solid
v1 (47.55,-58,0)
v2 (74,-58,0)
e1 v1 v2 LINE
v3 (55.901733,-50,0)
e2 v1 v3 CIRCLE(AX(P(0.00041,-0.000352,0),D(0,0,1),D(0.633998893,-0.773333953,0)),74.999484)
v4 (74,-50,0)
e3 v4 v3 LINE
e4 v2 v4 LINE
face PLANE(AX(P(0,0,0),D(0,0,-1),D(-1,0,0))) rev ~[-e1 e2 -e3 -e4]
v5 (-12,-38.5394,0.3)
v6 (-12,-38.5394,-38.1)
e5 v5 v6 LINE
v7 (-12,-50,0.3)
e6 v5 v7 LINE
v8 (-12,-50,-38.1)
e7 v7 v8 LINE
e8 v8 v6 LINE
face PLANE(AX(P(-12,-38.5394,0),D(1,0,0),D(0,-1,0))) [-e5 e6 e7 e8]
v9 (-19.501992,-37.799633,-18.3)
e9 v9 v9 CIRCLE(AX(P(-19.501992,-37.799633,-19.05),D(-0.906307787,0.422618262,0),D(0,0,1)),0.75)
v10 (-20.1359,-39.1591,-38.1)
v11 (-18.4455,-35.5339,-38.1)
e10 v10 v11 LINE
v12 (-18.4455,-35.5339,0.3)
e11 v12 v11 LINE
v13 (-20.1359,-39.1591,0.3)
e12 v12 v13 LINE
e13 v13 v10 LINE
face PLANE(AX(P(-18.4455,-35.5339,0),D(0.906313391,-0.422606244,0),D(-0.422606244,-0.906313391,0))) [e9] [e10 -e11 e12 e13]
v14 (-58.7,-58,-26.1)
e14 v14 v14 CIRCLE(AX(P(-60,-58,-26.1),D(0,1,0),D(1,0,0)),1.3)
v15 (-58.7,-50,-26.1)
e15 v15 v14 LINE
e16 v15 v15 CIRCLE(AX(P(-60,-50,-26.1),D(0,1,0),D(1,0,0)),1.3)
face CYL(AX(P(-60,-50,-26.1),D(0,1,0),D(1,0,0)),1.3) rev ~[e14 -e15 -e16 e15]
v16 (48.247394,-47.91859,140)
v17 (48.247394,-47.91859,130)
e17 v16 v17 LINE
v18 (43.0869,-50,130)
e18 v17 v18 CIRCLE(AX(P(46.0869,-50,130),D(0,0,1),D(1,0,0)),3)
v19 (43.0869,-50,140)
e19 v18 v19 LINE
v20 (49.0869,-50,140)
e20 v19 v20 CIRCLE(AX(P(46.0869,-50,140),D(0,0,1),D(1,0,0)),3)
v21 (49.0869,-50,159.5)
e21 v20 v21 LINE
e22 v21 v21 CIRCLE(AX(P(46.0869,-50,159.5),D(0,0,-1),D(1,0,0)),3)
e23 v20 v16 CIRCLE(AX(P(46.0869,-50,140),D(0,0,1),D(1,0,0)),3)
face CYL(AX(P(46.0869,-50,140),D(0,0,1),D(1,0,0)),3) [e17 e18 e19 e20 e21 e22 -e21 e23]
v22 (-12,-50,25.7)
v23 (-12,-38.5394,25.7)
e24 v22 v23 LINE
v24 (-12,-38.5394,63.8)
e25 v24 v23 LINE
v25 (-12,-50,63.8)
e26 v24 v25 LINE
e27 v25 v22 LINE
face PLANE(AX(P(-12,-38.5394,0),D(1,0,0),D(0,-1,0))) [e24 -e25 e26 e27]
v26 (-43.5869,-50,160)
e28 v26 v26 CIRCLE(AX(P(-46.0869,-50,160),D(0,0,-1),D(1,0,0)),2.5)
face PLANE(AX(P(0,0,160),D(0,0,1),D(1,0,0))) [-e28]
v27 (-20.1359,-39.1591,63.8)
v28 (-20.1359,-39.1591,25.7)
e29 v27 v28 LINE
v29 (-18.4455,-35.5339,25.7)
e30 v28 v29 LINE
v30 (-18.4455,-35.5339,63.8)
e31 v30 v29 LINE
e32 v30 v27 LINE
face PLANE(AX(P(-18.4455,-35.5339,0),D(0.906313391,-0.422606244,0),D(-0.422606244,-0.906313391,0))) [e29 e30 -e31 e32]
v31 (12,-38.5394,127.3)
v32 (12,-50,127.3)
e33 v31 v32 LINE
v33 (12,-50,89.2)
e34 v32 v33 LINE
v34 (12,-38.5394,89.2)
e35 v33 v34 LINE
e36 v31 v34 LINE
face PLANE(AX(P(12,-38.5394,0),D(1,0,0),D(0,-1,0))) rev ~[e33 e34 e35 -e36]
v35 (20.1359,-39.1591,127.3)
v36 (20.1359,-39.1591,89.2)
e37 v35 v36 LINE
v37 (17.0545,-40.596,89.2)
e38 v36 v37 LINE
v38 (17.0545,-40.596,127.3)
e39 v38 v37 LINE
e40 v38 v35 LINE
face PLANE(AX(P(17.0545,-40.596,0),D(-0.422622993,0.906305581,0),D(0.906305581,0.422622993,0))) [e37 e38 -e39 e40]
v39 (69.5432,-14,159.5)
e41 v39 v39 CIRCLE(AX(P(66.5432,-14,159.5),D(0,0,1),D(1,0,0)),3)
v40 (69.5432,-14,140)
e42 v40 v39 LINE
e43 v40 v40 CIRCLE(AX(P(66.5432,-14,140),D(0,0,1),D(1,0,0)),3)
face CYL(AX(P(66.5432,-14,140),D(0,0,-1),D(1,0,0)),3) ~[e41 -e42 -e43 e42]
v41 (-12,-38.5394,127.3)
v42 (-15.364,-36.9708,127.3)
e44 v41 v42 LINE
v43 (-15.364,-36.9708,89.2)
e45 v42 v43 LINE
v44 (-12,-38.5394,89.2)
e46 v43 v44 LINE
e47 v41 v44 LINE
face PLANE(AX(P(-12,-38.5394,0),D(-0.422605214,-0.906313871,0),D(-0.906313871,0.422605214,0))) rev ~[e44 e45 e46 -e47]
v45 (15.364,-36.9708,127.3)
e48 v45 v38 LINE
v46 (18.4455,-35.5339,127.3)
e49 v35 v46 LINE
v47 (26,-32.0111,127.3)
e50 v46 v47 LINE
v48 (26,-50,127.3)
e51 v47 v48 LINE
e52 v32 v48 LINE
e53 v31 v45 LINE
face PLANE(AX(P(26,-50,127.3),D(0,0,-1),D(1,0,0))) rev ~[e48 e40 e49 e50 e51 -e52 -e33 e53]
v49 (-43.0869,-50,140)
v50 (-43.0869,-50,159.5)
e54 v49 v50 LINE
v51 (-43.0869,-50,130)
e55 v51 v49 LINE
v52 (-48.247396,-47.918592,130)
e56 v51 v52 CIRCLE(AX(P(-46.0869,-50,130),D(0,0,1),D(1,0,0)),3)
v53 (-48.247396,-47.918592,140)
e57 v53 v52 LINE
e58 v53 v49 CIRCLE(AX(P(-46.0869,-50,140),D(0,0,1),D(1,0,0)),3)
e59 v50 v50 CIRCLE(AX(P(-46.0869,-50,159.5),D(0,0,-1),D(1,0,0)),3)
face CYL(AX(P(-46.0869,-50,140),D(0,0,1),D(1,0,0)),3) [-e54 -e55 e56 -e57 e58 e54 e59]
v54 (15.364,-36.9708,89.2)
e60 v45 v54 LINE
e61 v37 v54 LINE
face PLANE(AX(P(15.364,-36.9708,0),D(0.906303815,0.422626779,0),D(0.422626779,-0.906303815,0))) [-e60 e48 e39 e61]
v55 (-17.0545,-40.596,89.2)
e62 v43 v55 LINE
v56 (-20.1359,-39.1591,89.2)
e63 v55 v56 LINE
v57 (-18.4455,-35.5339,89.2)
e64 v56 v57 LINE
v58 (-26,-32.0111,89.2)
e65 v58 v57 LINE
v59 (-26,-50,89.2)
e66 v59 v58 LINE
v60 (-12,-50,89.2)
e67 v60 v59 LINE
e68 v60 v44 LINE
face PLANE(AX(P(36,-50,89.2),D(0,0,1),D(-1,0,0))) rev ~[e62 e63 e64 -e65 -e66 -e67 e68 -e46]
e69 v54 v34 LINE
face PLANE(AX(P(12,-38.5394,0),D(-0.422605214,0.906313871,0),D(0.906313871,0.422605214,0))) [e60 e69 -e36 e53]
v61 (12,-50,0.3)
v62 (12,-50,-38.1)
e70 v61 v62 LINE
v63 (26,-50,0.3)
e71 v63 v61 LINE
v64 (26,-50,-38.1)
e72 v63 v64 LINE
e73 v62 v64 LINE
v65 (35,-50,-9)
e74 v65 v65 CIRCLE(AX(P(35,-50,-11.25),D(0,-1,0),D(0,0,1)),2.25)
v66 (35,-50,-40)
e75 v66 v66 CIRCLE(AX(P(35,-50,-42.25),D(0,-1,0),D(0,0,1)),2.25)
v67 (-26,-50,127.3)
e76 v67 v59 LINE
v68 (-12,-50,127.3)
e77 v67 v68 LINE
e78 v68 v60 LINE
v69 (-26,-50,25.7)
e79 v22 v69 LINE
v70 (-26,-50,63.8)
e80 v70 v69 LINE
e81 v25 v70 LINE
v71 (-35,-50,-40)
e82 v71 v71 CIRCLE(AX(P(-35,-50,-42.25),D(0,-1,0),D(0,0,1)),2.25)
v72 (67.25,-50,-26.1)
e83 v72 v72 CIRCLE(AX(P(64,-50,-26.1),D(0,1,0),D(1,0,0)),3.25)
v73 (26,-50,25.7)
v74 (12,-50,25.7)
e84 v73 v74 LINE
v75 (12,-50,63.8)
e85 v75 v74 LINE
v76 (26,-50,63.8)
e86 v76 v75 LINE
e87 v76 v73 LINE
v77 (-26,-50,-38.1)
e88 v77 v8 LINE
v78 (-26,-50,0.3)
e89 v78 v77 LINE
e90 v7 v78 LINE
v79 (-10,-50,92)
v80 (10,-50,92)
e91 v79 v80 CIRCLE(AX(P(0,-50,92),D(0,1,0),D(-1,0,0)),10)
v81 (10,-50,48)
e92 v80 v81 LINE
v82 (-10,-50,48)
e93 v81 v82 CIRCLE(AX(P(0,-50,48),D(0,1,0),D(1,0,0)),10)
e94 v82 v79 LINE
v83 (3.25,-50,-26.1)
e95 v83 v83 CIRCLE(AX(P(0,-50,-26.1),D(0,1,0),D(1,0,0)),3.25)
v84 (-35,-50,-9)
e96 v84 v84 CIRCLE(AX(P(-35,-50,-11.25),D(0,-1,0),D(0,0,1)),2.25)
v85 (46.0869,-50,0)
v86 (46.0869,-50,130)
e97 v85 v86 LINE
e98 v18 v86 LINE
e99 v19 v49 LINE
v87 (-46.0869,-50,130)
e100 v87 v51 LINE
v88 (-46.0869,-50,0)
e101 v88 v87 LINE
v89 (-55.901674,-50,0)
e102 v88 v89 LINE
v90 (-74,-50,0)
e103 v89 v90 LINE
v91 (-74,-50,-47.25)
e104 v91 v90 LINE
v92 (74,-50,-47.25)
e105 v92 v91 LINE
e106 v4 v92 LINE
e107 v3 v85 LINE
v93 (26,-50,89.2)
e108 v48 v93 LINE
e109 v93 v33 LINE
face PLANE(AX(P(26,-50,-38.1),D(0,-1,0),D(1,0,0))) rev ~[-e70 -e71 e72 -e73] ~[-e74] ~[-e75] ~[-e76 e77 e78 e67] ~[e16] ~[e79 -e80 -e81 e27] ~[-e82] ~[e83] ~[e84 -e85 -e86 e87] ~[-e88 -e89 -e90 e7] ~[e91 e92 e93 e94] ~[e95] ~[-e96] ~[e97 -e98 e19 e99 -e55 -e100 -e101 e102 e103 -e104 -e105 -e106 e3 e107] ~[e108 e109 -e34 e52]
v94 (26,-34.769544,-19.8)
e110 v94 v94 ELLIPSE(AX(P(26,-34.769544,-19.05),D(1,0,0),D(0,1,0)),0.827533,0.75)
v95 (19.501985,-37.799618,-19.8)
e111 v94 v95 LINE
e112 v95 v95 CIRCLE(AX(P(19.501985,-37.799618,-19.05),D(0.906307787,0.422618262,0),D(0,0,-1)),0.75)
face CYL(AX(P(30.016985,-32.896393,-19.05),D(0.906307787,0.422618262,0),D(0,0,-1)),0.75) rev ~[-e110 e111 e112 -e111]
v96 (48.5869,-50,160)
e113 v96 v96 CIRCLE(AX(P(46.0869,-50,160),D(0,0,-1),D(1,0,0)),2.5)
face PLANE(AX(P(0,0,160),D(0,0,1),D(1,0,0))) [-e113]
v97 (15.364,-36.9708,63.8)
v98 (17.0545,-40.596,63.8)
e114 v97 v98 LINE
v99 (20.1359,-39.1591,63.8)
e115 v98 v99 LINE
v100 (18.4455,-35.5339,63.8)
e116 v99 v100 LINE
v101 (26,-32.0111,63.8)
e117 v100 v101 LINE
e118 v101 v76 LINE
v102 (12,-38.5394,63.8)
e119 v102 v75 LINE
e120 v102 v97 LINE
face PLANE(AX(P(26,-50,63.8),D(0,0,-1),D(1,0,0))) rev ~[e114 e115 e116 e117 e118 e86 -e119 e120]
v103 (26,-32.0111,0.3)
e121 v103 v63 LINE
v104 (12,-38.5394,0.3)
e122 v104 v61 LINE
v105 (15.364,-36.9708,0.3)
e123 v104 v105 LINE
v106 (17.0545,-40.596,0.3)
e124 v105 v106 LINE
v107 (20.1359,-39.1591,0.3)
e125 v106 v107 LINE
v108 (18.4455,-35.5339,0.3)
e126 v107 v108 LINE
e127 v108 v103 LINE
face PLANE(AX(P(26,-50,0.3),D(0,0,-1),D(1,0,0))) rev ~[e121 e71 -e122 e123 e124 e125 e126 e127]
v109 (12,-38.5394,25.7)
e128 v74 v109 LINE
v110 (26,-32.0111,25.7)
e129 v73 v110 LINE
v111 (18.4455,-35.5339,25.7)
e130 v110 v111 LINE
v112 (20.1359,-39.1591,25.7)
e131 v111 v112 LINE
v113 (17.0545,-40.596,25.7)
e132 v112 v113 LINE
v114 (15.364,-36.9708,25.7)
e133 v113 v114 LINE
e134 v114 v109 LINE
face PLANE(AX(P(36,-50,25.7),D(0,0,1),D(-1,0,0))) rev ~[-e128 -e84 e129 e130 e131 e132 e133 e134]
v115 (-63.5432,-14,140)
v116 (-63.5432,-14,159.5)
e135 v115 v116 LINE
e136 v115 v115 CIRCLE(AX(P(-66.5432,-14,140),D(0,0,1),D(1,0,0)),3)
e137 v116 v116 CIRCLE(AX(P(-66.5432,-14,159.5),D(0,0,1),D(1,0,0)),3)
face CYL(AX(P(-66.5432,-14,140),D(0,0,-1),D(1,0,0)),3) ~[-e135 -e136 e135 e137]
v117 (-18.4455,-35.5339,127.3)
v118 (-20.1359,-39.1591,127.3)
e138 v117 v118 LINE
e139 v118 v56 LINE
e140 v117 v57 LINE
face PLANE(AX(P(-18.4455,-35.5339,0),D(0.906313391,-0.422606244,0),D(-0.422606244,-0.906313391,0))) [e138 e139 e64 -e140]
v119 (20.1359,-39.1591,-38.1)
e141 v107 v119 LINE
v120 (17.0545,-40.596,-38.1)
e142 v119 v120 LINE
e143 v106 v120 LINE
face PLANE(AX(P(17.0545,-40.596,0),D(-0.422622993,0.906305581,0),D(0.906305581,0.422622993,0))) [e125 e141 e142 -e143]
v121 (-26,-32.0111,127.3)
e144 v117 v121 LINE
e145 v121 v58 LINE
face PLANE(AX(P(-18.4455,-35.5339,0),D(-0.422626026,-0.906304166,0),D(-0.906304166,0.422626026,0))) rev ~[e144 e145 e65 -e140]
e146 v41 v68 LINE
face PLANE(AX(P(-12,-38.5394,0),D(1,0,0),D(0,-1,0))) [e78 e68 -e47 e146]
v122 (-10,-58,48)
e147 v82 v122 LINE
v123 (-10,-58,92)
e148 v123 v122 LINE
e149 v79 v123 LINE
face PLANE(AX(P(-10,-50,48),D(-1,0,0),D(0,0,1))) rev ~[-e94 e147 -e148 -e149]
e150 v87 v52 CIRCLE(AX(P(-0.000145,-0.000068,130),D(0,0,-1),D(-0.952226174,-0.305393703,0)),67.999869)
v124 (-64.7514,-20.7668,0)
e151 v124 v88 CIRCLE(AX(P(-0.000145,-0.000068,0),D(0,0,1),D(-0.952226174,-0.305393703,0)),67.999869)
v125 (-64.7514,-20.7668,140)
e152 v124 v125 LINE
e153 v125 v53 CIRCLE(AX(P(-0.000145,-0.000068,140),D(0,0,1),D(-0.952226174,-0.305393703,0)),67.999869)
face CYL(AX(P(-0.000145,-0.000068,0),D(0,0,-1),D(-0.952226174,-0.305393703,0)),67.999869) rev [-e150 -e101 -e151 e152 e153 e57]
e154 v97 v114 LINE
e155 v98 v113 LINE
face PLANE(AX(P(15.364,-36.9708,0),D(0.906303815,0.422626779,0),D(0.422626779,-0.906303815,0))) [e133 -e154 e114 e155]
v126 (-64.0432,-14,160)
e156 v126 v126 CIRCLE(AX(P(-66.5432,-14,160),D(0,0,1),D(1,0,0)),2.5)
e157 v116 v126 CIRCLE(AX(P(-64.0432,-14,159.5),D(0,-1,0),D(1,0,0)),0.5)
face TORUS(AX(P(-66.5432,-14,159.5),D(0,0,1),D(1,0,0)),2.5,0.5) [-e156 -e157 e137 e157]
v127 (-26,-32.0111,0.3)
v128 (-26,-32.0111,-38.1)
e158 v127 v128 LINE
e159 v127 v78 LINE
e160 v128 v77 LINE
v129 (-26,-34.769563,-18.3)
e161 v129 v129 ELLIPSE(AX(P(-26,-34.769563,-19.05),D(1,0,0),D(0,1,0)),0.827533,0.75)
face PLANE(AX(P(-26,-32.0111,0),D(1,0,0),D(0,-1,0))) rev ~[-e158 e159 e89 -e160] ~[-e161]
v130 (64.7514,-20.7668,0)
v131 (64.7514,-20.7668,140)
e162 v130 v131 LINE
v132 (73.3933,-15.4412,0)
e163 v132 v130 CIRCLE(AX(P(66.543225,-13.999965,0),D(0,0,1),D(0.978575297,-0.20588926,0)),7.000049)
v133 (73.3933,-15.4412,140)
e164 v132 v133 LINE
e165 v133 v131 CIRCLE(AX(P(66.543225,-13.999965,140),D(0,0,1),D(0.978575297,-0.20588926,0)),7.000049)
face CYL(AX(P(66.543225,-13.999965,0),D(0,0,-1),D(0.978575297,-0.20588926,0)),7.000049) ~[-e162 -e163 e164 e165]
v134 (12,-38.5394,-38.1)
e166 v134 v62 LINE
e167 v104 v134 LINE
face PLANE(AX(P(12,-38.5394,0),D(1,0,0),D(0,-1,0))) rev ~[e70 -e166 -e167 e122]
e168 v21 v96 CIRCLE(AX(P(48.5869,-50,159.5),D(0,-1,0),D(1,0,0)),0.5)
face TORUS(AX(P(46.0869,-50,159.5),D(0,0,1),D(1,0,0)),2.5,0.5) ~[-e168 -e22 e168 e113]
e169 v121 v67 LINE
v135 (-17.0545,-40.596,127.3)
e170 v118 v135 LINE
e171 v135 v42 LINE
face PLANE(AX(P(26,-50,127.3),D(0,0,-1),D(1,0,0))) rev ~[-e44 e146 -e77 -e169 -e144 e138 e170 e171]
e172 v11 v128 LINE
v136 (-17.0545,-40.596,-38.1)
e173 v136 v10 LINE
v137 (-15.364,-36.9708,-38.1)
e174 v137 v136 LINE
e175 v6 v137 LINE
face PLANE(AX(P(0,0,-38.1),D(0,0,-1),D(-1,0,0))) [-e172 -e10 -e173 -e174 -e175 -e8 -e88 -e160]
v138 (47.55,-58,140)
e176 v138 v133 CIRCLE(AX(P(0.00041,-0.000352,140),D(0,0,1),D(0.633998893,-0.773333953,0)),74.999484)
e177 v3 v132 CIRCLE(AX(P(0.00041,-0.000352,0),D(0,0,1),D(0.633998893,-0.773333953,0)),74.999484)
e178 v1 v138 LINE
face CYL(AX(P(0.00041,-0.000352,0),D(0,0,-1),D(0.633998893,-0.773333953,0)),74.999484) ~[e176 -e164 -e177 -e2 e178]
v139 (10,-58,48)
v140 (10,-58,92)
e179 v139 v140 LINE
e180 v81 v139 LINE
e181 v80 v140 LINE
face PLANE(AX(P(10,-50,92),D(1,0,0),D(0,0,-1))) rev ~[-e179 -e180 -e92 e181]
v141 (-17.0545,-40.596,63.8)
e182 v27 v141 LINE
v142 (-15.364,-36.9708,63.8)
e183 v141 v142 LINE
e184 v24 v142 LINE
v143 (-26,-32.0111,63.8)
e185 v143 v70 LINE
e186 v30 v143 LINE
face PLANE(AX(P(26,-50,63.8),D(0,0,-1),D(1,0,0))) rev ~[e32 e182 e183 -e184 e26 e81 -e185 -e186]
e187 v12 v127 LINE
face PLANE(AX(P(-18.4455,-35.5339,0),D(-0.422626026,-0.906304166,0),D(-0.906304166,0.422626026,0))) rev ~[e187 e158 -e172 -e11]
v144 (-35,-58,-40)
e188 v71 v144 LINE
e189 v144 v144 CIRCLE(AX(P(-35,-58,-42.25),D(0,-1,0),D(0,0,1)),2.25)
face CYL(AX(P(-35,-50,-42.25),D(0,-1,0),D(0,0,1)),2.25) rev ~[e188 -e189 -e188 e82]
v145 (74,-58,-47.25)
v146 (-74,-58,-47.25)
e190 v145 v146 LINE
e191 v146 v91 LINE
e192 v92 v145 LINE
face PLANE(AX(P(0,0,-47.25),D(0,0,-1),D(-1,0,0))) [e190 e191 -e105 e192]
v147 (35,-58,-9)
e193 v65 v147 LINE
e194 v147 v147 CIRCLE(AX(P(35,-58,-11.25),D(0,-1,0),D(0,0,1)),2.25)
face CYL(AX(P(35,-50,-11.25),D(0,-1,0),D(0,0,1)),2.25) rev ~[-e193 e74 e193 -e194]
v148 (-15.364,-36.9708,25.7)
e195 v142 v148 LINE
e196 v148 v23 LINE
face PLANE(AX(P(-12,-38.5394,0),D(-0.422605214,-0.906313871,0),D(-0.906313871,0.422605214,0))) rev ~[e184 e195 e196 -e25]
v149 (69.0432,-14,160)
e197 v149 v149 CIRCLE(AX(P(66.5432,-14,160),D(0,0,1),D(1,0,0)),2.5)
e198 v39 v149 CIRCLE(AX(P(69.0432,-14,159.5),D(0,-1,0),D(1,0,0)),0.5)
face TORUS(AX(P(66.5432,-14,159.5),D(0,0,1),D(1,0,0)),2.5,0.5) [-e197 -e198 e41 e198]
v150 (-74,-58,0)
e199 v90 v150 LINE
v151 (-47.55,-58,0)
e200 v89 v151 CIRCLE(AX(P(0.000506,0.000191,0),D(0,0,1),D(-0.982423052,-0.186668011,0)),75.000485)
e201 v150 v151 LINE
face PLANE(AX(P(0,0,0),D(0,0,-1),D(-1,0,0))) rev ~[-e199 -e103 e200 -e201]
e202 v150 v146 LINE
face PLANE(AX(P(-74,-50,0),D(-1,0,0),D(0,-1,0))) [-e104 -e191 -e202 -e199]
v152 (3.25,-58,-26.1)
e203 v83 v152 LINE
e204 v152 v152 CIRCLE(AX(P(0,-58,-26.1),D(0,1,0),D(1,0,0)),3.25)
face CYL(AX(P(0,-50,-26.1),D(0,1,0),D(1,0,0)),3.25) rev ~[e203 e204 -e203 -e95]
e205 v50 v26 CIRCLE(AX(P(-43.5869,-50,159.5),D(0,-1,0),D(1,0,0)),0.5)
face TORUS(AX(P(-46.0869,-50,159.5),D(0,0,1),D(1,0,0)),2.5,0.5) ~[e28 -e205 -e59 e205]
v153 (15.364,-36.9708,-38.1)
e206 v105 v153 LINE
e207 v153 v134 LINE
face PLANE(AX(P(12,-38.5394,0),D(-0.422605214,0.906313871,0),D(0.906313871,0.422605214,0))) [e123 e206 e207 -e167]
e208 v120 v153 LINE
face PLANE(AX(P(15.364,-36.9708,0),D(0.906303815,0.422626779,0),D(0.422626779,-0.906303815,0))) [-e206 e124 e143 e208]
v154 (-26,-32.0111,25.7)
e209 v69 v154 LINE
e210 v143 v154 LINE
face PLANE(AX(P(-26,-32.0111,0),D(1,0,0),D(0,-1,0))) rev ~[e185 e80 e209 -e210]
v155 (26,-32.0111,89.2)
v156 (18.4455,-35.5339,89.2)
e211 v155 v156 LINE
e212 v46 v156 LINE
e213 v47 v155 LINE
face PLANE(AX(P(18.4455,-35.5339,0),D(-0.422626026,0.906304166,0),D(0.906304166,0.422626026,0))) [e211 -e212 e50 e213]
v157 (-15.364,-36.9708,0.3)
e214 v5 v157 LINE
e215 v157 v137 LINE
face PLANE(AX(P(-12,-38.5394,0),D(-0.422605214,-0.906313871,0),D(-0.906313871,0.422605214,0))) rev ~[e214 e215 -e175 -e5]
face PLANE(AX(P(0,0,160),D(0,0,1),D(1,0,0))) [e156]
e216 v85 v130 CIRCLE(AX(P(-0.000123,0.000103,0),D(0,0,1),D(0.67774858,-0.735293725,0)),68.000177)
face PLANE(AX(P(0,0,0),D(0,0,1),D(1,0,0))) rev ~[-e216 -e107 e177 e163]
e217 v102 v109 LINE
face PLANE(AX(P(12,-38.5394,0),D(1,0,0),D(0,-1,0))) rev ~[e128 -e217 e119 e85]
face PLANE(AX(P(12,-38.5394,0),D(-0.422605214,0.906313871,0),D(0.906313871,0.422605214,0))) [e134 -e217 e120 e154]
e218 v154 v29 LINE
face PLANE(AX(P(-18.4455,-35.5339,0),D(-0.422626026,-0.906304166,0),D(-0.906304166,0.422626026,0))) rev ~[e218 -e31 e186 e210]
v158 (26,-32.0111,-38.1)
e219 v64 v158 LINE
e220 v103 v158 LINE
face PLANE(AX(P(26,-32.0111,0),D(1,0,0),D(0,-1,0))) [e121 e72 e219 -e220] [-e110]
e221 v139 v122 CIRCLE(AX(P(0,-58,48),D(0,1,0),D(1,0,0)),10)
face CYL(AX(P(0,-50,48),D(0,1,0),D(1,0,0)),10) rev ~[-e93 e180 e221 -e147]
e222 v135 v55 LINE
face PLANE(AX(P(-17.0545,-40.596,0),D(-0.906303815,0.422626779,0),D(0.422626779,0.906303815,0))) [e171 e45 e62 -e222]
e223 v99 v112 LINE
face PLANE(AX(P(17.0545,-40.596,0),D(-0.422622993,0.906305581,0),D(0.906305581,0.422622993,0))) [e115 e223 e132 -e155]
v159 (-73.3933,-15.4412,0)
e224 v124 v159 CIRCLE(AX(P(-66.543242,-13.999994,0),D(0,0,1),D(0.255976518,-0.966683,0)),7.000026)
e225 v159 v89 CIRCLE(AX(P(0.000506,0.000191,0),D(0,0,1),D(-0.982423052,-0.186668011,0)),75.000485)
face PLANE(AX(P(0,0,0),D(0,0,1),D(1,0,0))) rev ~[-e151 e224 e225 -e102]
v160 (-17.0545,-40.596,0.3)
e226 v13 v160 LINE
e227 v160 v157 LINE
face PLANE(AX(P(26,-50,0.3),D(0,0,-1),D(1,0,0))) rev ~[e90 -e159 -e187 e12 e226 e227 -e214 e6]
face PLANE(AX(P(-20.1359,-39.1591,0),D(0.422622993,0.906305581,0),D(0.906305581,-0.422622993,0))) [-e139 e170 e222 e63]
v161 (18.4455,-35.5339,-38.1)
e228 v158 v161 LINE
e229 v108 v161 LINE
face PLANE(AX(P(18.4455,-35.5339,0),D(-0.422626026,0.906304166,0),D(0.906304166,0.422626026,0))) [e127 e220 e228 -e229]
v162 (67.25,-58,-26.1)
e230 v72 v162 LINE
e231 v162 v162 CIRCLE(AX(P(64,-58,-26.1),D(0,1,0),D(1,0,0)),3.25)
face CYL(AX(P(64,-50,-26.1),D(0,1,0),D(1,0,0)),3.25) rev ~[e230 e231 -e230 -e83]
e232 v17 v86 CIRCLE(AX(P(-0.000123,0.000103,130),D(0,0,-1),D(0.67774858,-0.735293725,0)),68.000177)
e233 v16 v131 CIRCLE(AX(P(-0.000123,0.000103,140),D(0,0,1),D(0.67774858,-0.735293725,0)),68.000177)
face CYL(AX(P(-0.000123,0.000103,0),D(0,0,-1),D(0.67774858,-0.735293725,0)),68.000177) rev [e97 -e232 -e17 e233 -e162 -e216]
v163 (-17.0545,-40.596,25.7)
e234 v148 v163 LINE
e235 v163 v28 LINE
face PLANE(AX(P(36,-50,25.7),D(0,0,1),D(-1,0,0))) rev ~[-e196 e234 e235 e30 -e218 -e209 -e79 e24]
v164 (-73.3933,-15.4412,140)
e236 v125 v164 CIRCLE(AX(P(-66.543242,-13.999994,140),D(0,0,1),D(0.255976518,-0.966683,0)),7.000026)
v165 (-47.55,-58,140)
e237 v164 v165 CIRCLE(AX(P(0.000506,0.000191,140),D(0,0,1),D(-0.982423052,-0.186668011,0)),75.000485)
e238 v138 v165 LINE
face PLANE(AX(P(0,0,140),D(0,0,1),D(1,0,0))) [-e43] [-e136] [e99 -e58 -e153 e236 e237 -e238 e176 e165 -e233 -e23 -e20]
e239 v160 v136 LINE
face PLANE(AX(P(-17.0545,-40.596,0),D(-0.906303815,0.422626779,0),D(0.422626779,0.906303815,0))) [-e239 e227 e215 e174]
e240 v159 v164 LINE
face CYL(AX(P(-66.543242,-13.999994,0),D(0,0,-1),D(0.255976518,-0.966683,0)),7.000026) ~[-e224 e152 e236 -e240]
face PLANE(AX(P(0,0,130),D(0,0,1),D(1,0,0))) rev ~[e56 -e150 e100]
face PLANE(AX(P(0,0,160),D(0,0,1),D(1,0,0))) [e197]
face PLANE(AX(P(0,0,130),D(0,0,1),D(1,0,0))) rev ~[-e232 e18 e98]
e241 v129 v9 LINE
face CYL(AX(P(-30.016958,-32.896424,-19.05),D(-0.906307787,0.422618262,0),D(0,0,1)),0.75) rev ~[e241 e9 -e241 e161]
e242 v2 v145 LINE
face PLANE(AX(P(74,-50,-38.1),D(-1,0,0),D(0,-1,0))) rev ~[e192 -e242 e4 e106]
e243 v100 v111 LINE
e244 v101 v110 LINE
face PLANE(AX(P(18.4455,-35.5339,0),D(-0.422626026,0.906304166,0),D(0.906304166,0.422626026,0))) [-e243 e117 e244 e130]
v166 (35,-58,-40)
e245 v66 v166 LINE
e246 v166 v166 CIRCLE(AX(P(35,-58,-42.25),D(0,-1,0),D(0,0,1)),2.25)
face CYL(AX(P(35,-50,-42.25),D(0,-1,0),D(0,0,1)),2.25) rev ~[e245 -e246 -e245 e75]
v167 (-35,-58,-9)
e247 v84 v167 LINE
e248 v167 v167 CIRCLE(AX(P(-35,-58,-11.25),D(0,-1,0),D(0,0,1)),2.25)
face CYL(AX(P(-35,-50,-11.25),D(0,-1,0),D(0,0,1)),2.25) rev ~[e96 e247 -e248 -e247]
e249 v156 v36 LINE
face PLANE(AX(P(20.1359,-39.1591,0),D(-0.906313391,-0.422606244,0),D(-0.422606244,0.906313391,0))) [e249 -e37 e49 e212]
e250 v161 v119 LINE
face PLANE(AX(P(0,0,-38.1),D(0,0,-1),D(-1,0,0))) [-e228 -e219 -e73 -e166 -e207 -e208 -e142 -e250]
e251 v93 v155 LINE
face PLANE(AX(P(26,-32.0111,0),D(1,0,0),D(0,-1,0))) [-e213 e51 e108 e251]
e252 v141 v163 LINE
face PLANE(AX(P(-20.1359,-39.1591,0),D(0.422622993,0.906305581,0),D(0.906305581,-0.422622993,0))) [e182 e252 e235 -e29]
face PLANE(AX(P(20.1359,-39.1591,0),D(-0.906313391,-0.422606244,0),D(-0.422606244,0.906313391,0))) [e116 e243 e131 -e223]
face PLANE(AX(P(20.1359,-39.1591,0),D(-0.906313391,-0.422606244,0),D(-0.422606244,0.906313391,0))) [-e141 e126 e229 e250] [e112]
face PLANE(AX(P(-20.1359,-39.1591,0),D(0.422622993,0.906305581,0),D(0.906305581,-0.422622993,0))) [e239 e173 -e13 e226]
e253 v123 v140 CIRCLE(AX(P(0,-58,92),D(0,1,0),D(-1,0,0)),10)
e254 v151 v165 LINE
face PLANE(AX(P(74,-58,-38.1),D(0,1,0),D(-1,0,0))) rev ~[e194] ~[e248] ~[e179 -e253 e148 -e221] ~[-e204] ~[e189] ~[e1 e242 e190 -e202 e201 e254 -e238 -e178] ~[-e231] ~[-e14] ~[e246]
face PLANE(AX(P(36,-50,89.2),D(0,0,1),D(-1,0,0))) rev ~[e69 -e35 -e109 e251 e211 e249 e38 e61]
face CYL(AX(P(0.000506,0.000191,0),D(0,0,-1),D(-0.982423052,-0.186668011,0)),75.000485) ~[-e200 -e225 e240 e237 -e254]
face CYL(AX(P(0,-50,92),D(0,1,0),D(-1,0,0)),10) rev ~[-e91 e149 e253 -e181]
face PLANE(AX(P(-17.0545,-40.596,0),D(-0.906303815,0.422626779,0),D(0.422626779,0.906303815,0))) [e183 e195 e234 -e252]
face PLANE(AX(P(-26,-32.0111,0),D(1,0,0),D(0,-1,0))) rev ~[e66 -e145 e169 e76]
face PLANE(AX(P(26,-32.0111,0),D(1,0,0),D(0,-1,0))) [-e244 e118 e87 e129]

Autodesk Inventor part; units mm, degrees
ref_plane "YZ Plane" through (0, 0, 0) normal (1, 0, 0) x (0, 1, 0)
sketch "Sketch19" plane through (0, 0, 0) normal (0, 0, 1) x (1, 0, 0)
  line L0 (47.55, -58) -> (-47.55, -58)
  line L1 (-100, -14) -> (156, -14) construction
  arc A0 (47.55, -58) -> (73.6817, -14) centre (0, 0) ccw
  arc A1 (-73.6817, -14) -> (-47.55, -58) centre (0, 0) ccw
  arc A2 (-64.7514, -20.7668) -> (-73.3933, -15.4412) centre (-66.5432, -14) ccw
  arc A3 (73.3933, -15.4412) -> (64.7514, -20.7668) centre (66.5432, -14) ccw
  arc A4 (-67.6299, -7.0849) -> (-64.8992, -20.3) centre (0, 0) ccw construction
  arc A5 (-64.7514, -20.7668) -> (-46.0869, -50) centre (0, 0) ccw
  arc A6 (46.0869, -50) -> (64.7514, -20.7668) centre (0, 0) ccw
  arc A7 (64.8058, -20.5962) -> (67.6299, -7.0849) centre (0, 0) ccw construction
  line L2 (0, 0) -> (-33.9351, 15.8242) construction
  line L3 (0, 0) -> (37.291, 17.3891) construction
  line L4 (0, 0) -> (0, -41) construction
  line L5 (0, 0) -> (-21.2237, -45.5143) construction
  line L6 (0, 0) -> (17.7082, -37.9755) construction
  line L7 (-12, -38.5394) -> (-12, -50)
  line L8 (12, -38.5394) -> (12, -50)
  line L9 (-26, -32.0111) -> (-26, -50)
  line L10 (26, -32.0111) -> (26, -50)
  line L11 (-18.4455, -35.5339) -> (-20.1359, -39.1591)
  line L12 (-20.1359, -39.1591) -> (-17.0545, -40.596)
  line L13 (-17.0545, -40.596) -> (-15.364, -36.9708)
  line L14 (15.364, -36.9708) -> (17.0545, -40.596)
  line L15 (17.0545, -40.596) -> (20.1359, -39.1591)
  line L16 (20.1359, -39.1591) -> (18.4455, -35.5339)
  line L17 (-12, -38.5394) -> (-15.364, -36.9708)
  line L18 (-18.4455, -35.5339) -> (-26, -32.0111)
  line L19 (12, -38.5394) -> (15.364, -36.9708)
  line L20 (18.4455, -35.5339) -> (26, -32.0111)
  line L21 (-46.0869, -50) -> (-26, -50)
  line L22 (-12, -50) -> (12, -50)
  line L23 (26, -50) -> (46.0869, -50)
  dimension "d378" = 58
  dimension "d379" = 14
  dimension "d381" = 75
  dimension "d383" = 75
  dimension "d384" = 14
  dimension "d385" = 14
  dimension "d389" = 25
  dimension "d390" = 25
  dimension "d391" = 90
  dimension "d392" = 90
  dimension "d393" = 24
  dimension "d394" = 12
  dimension "d395" = 14
  dimension "d396" = 14
  dimension "d399" = 3.4
  dimension "d400" = 4
  dimension "d401" = 1.7
  dimension "d402" = 3.4
  dimension "d403" = 1.7
  dimension "d404" = 4
extrude "Extrusion17" add sketch "Sketch19" along normal blind 140
sketch "Sketch20" plane through (0, 0, 0) normal (0, 0, -1) x (-1, 0, 0)
  line L0 (74, -50) -> (74, -58)
  line L1 (74, -58) -> (-74, -58)
  line L2 (-74, -58) -> (-74, -50)
  line L3 (47.55, -58) -> (-47.55, -58) projected
  line L4 (26, -50) -> (46.0869, -50) projected
  line L5 (-46.0869, -50) -> (-26, -50) projected
  line L6 (-26, -50) -> (-26, -32.0111)
  line L7 (-26, -32.0111) -> (-18.4455, -35.5339)
  line L8 (-18.4455, -35.5339) -> (-20.1359, -39.1591)
  line L9 (-20.1359, -39.1591) -> (-17.0545, -40.596)
  line L10 (-17.0545, -40.596) -> (-15.364, -36.9708)
  line L11 (-15.364, -36.9708) -> (-12, -38.5394)
  line L12 (-12, -38.5394) -> (-12, -50)
  line L13 (-12, -50) -> (12, -50) projected
  line L14 (12, -50) -> (12, -38.5394)
  line L15 (12, -38.5394) -> (15.364, -36.9708)
  line L16 (17.0545, -40.596) -> (20.1359, -39.1591)
  line L17 (20.1359, -39.1591) -> (18.4455, -35.5339)
  line L18 (18.4455, -35.5339) -> (26, -32.0111)
  line L19 (26, -32.0111) -> (26, -50)
  line L20 (26, -32.0111) -> (26, -50) projected
  line L21 (20.1359, -39.1591) -> (18.4455, -35.5339) projected
  line L22 (12, -50) -> (12, -38.5394) projected
  line L23 (12, -38.5394) -> (15.364, -36.9708) projected
  line L24 (15.364, -36.9708) -> (17.0545, -40.596)
  line L25 (15.364, -36.9708) -> (17.0545, -40.596) projected
  line L26 (-26, -50) -> (-26, -32.0111) projected
  line L27 (-12, -38.5394) -> (-12, -50) projected
  line L28 (-20.1359, -39.1591) -> (-17.0545, -40.596) projected
  line L29 (-17.0545, -40.596) -> (-15.364, -36.9708) projected
  line L30 (-15.364, -36.9708) -> (-12, -38.5394) projected
  line L31 (-26, -32.0111) -> (-18.4455, -35.5339) projected
  line L32 (-18.4455, -35.5339) -> (-20.1359, -39.1591) projected
  line L33 (-74, -50) -> (-26, -50)
  line L34 (-12, -50) -> (12, -50)
  line L35 (26, -50) -> (74, -50)
  point P0 (0, 0)
  dimension "d407" = 148
  dimension "d408" = 74
extrude "Extrusion18" add sketch "Sketch20" along normal blind 38.1
sketch "Sketch21" plane through (-12, -50, 140) normal (0, 1, 0) x (1, 0, 0)
  line L0 (48, 0) -> (-24, 0)
  line L1 (-24, 0) -> (-24, 12.7)
  line L2 (-24, 12.7) -> (48, 12.7)
  line L3 (48, 12.7) -> (48, 0)
  line L4 (48, 50.8) -> (-24, 50.8)
  line L5 (-24, 50.8) -> (-24, 76.2)
  line L6 (-24, 76.2) -> (48, 76.2)
  line L7 (48, 76.2) -> (48, 50.8)
  line L8 (48, 114.3) -> (-24, 114.3)
  line L9 (-24, 114.3) -> (-24, 139.7)
  line L10 (-24, 139.7) -> (48, 139.7)
  line L11 (48, 139.7) -> (48, 114.3)
  line L12 (24, 0) -> (0, 0) projected
  line L13 (38, 178.1) -> (38, 0) projected
  line L14 (-14, 178.1) -> (-14, 0) projected
  point P0 (12, 140)
  dimension "d412" = 10
  dimension "d413" = 10
  dimension "d414" = 12.7
  dimension "d415" = 38.1
  dimension "d416" = 25.4
  dimension "d417" = 38.1
  dimension "d418" = 25.4
extrude "Extrusion19" cut sketch "Sketch21" along normal up to next contours L0 L13 L2 L3 | L0 L14 L2 L13 | L14 L0 L1 L2 | L13 L6 L7 L4 | L4 L14 L6 L13 | L4 L5 L6 L14 | L13 L10 L11 L8 | L8 L14 L10 L13 | L8 L9 L10 L14
sketch "Sketch22" plane through (0, 0, 140) normal (0, 0, 1) x (1, 0, 0)
  arc A0 (-64.7514, -20.7668) -> (-73.3933, -15.4412) centre (-66.5432, -14) ccw projected
  circle A1 centre (-66.5432, -14) radius 3
  arc A2 (73.3933, -15.4412) -> (64.7514, -20.7668) centre (66.5432, -14) ccw projected
  circle A3 centre (66.5432, -14) radius 3
  arc A4 (-64.7514, -20.7668) -> (-46.0869, -50) centre (0, 0) ccw projected
  circle A5 centre (-46.0869, -50) radius 3
  arc A6 (46.0869, -50) -> (64.7514, -20.7668) centre (0, 0) ccw projected
  circle A7 centre (46.0869, -50) radius 3
  dimension "d421" = 6
  dimension "d422" = 6
  dimension "d423" = 6
  dimension "d424" = 6
extrude "Extrusion20" add sketch "Sketch22" along normal blind 20 and the other way blind 10
fillet "Fillet1" radius 0.5 4 edges at (-69.5432, -14, 160) (-49.0869, -50, 160) (43.0869, -50, 160) (63.5432, -14, 160)
sketch "Sketch23" plane through (55.9017, -50, 0) normal (0, 1, 0) x (1, 0, 0)
  circle A0 centre (-115.9017, 26.1) radius 1.3
  line L0 (-129.9017, 0) -> (-129.9017, 38.1) projected
  line L1 (18.0983, 0) -> (18.0983, 38.1) projected
  line L2 (-129.9017, 38.1) -> (-81.9017, 38.1) projected
  line L3 (-29.9017, 38.1) -> (18.0983, 38.1) projected
  circle A1 centre (-55.9017, 26.1) radius 3.25
  line L4 (-67.9017, 38.1) -> (-43.9017, 38.1) projected
  circle A2 centre (8.0983, 26.1) radius 3.25
  point P0 (-55.9017, 0)
  dimension "d430" = 2.6
  dimension "d431" = 14
  dimension "d433" = 12
  dimension "d435" = 6.5
  dimension "d436" = 0
  dimension "d437" = 12
  dimension "d453" = 6.5
  dimension "d454" = 12
  dimension "d455" = 10
extrude "Extrusion21" cut sketch "Sketch23" against normal through all
ref_plane "Work Plane3" through (-28.9586, -30.6315, -38.1) normal (-0.9063, 0.4226, 0) x (0, 0, 1)
sketch "Sketch24" plane through (-28.9586, -30.6315, -38.1) normal (-0.9063, 0.4226, 0) x (0, 0, 1)
  circle A0 centre (19.05, -2.5) radius 0.75
  line L0 (0, 0) -> (38.4, 0) projected
  line L1 (0, -16.3035) -> (0, 0) projected
  point P0 (38.1, 40)
  dimension "d441" = 1.5
  dimension "d442" = 2.5
  dimension "d443" = 19.05
extrude "Extrusion22" cut sketch "Sketch24" against normal blind 12
ref_plane "Work Plane4" through (30.6491, -34.2567, 0.3) normal (0.9063, 0.4226, 0) x (0, 0, -1)
sketch "Sketch25" plane through (30.6491, -34.2567, 0.3) normal (0.9063, 0.4226, 0) x (0, 0, -1)
  circle A0 centre (19.35, 1.5) radius 0.75
  line L0 (38.4, 4) -> (38.4, -12.3035) projected
  line L1 (38.4, 4) -> (0, 4) projected
  point P0 (0.3, 44)
  dimension "d447" = 19.05
  dimension "d448" = 1.5
  dimension "d450" = 2.5
extrude "Extrusion23" cut sketch "Sketch25" against normal blind 12
sketch "Sketch26" plane through (55.9017, -50, 0) normal (0, 1, 0) x (1, 0, 0)
  line L0 (-45.9017, -92) -> (-45.9017, -48)
  line L1 (-65.9017, -48) -> (-65.9017, -92)
  arc A0 (-65.9017, -92) -> (-45.9017, -92) centre (-55.9017, -92) ccw
  arc A1 (-45.9017, -48) -> (-65.9017, -48) centre (-55.9017, -48) ccw
  line L2 (-12.8148, -140) -> (-98.9886, -140) projected
  point P0 (-55.9017, 0)
  dimension "d456" = 20
  dimension "d457" = 10
  dimension "d458" = 44
extrude "Extrusion24" cut sketch "Sketch26" against normal through all
sketch "Sketch27" plane through (0, 0, -38.1) normal (0, 0, -1) x (-1, 0, 0)
  line L0 (-74, -50) -> (-74, -58) projected
  line L1 (-74, -58) -> (74, -58) projected
  line L2 (74, -58) -> (74, -50) projected
  line L3 (74, -50) -> (26, -50) projected
  line L4 (26, -50) -> (26, -32.0111) projected
  line L5 (26, -32.0111) -> (18.4455, -35.5339) projected
  line L6 (18.4455, -35.5339) -> (20.1359, -39.1591) projected
  line L7 (20.1359, -39.1591) -> (17.0545, -40.596) projected
  line L8 (17.0545, -40.596) -> (15.364, -36.9708) projected
  line L9 (15.364, -36.9708) -> (12, -38.5394) projected
  line L10 (12, -38.5394) -> (12, -50) projected
  line L11 (12, -50) -> (-12, -50) projected
  line L12 (-12, -50) -> (-12, -38.5394) projected
  line L13 (-12, -38.5394) -> (-15.364, -36.9708) projected
  line L14 (-15.364, -36.9708) -> (-17.0545, -40.596) projected
  line L15 (-17.0545, -40.596) -> (-20.1359, -39.1591) projected
  line L16 (-20.1359, -39.1591) -> (-18.4455, -35.5339) projected
  line L17 (-18.4455, -35.5339) -> (-26, -32.0111) projected
  line L18 (-26, -32.0111) -> (-26, -50) projected
  line L19 (-26, -50) -> (-74, -50) projected
  line L20 (-74, -50) -> (-74, -58) projected
  line L21 (74, -50) -> (55.9017, -50) projected
  line L22 (-74, -58) -> (74, -58)
  line L23 (74, -58) -> (74, -50)
  line L24 (74, -50) -> (-74, -50)
  line L25 (-74, -50) -> (-74, -58)
  point P0 (0, 0)
extrude "Extrusion25" add sketch "Sketch27" along normal blind 9.15 contours L19 L24 L11 L3 L2 L1 L0
sketch "Sketch28" plane through (-74, -50, 0) normal (0, 1, 0) x (1, 0, 0)
  line L0 (109, 42.25) -> (39, 42.25) construction
  line L1 (39, 42.25) -> (39, 11.25) construction
  line L2 (39, 11.25) -> (109, 11.25) construction
  line L3 (109, 11.25) -> (109, 42.25) construction
  line L4 (0, 47.25) -> (148, 47.25) construction
  point P0 (74, 0)
  point P1 (74, 42.25)
  point P2 (74, 47.25)
  dimension "d464" = 70
  dimension "d465" = 31
  dimension "d466" = 5
hole "Hole1" at (35, -50, -11.25) at (35, -50, -42.25) at (-35, -50, -42.25) at (-35, -50, -11.25) direction (0, -1, 0) diameter 4.5 end through all clearance for "Flat Head Machine Screw" size "M4" standard "Ansi Metric M Profile"
equation "\"BendRadius\" = Thickness"
equation "\"BendReliefWidth\" = Thickness"
equation "\"BendReliefDepth\" = 0.5 * Thickness"
equation "\"CornerReliefSize\" = 4 * Thickness"
equation "\"MinimumRemnant\" = 2 * Thickness"
equation "\"TransitionRadius\" = BendRadius"
equation "\"JacobiRadiusSize\" = BendRadius"
equation "\"GapSize\" = Thickness"
equation "\"Thickness\" = 0.5"
properties part number "3214_Bed Rail End_V1" material "Acetal Resin, White"
